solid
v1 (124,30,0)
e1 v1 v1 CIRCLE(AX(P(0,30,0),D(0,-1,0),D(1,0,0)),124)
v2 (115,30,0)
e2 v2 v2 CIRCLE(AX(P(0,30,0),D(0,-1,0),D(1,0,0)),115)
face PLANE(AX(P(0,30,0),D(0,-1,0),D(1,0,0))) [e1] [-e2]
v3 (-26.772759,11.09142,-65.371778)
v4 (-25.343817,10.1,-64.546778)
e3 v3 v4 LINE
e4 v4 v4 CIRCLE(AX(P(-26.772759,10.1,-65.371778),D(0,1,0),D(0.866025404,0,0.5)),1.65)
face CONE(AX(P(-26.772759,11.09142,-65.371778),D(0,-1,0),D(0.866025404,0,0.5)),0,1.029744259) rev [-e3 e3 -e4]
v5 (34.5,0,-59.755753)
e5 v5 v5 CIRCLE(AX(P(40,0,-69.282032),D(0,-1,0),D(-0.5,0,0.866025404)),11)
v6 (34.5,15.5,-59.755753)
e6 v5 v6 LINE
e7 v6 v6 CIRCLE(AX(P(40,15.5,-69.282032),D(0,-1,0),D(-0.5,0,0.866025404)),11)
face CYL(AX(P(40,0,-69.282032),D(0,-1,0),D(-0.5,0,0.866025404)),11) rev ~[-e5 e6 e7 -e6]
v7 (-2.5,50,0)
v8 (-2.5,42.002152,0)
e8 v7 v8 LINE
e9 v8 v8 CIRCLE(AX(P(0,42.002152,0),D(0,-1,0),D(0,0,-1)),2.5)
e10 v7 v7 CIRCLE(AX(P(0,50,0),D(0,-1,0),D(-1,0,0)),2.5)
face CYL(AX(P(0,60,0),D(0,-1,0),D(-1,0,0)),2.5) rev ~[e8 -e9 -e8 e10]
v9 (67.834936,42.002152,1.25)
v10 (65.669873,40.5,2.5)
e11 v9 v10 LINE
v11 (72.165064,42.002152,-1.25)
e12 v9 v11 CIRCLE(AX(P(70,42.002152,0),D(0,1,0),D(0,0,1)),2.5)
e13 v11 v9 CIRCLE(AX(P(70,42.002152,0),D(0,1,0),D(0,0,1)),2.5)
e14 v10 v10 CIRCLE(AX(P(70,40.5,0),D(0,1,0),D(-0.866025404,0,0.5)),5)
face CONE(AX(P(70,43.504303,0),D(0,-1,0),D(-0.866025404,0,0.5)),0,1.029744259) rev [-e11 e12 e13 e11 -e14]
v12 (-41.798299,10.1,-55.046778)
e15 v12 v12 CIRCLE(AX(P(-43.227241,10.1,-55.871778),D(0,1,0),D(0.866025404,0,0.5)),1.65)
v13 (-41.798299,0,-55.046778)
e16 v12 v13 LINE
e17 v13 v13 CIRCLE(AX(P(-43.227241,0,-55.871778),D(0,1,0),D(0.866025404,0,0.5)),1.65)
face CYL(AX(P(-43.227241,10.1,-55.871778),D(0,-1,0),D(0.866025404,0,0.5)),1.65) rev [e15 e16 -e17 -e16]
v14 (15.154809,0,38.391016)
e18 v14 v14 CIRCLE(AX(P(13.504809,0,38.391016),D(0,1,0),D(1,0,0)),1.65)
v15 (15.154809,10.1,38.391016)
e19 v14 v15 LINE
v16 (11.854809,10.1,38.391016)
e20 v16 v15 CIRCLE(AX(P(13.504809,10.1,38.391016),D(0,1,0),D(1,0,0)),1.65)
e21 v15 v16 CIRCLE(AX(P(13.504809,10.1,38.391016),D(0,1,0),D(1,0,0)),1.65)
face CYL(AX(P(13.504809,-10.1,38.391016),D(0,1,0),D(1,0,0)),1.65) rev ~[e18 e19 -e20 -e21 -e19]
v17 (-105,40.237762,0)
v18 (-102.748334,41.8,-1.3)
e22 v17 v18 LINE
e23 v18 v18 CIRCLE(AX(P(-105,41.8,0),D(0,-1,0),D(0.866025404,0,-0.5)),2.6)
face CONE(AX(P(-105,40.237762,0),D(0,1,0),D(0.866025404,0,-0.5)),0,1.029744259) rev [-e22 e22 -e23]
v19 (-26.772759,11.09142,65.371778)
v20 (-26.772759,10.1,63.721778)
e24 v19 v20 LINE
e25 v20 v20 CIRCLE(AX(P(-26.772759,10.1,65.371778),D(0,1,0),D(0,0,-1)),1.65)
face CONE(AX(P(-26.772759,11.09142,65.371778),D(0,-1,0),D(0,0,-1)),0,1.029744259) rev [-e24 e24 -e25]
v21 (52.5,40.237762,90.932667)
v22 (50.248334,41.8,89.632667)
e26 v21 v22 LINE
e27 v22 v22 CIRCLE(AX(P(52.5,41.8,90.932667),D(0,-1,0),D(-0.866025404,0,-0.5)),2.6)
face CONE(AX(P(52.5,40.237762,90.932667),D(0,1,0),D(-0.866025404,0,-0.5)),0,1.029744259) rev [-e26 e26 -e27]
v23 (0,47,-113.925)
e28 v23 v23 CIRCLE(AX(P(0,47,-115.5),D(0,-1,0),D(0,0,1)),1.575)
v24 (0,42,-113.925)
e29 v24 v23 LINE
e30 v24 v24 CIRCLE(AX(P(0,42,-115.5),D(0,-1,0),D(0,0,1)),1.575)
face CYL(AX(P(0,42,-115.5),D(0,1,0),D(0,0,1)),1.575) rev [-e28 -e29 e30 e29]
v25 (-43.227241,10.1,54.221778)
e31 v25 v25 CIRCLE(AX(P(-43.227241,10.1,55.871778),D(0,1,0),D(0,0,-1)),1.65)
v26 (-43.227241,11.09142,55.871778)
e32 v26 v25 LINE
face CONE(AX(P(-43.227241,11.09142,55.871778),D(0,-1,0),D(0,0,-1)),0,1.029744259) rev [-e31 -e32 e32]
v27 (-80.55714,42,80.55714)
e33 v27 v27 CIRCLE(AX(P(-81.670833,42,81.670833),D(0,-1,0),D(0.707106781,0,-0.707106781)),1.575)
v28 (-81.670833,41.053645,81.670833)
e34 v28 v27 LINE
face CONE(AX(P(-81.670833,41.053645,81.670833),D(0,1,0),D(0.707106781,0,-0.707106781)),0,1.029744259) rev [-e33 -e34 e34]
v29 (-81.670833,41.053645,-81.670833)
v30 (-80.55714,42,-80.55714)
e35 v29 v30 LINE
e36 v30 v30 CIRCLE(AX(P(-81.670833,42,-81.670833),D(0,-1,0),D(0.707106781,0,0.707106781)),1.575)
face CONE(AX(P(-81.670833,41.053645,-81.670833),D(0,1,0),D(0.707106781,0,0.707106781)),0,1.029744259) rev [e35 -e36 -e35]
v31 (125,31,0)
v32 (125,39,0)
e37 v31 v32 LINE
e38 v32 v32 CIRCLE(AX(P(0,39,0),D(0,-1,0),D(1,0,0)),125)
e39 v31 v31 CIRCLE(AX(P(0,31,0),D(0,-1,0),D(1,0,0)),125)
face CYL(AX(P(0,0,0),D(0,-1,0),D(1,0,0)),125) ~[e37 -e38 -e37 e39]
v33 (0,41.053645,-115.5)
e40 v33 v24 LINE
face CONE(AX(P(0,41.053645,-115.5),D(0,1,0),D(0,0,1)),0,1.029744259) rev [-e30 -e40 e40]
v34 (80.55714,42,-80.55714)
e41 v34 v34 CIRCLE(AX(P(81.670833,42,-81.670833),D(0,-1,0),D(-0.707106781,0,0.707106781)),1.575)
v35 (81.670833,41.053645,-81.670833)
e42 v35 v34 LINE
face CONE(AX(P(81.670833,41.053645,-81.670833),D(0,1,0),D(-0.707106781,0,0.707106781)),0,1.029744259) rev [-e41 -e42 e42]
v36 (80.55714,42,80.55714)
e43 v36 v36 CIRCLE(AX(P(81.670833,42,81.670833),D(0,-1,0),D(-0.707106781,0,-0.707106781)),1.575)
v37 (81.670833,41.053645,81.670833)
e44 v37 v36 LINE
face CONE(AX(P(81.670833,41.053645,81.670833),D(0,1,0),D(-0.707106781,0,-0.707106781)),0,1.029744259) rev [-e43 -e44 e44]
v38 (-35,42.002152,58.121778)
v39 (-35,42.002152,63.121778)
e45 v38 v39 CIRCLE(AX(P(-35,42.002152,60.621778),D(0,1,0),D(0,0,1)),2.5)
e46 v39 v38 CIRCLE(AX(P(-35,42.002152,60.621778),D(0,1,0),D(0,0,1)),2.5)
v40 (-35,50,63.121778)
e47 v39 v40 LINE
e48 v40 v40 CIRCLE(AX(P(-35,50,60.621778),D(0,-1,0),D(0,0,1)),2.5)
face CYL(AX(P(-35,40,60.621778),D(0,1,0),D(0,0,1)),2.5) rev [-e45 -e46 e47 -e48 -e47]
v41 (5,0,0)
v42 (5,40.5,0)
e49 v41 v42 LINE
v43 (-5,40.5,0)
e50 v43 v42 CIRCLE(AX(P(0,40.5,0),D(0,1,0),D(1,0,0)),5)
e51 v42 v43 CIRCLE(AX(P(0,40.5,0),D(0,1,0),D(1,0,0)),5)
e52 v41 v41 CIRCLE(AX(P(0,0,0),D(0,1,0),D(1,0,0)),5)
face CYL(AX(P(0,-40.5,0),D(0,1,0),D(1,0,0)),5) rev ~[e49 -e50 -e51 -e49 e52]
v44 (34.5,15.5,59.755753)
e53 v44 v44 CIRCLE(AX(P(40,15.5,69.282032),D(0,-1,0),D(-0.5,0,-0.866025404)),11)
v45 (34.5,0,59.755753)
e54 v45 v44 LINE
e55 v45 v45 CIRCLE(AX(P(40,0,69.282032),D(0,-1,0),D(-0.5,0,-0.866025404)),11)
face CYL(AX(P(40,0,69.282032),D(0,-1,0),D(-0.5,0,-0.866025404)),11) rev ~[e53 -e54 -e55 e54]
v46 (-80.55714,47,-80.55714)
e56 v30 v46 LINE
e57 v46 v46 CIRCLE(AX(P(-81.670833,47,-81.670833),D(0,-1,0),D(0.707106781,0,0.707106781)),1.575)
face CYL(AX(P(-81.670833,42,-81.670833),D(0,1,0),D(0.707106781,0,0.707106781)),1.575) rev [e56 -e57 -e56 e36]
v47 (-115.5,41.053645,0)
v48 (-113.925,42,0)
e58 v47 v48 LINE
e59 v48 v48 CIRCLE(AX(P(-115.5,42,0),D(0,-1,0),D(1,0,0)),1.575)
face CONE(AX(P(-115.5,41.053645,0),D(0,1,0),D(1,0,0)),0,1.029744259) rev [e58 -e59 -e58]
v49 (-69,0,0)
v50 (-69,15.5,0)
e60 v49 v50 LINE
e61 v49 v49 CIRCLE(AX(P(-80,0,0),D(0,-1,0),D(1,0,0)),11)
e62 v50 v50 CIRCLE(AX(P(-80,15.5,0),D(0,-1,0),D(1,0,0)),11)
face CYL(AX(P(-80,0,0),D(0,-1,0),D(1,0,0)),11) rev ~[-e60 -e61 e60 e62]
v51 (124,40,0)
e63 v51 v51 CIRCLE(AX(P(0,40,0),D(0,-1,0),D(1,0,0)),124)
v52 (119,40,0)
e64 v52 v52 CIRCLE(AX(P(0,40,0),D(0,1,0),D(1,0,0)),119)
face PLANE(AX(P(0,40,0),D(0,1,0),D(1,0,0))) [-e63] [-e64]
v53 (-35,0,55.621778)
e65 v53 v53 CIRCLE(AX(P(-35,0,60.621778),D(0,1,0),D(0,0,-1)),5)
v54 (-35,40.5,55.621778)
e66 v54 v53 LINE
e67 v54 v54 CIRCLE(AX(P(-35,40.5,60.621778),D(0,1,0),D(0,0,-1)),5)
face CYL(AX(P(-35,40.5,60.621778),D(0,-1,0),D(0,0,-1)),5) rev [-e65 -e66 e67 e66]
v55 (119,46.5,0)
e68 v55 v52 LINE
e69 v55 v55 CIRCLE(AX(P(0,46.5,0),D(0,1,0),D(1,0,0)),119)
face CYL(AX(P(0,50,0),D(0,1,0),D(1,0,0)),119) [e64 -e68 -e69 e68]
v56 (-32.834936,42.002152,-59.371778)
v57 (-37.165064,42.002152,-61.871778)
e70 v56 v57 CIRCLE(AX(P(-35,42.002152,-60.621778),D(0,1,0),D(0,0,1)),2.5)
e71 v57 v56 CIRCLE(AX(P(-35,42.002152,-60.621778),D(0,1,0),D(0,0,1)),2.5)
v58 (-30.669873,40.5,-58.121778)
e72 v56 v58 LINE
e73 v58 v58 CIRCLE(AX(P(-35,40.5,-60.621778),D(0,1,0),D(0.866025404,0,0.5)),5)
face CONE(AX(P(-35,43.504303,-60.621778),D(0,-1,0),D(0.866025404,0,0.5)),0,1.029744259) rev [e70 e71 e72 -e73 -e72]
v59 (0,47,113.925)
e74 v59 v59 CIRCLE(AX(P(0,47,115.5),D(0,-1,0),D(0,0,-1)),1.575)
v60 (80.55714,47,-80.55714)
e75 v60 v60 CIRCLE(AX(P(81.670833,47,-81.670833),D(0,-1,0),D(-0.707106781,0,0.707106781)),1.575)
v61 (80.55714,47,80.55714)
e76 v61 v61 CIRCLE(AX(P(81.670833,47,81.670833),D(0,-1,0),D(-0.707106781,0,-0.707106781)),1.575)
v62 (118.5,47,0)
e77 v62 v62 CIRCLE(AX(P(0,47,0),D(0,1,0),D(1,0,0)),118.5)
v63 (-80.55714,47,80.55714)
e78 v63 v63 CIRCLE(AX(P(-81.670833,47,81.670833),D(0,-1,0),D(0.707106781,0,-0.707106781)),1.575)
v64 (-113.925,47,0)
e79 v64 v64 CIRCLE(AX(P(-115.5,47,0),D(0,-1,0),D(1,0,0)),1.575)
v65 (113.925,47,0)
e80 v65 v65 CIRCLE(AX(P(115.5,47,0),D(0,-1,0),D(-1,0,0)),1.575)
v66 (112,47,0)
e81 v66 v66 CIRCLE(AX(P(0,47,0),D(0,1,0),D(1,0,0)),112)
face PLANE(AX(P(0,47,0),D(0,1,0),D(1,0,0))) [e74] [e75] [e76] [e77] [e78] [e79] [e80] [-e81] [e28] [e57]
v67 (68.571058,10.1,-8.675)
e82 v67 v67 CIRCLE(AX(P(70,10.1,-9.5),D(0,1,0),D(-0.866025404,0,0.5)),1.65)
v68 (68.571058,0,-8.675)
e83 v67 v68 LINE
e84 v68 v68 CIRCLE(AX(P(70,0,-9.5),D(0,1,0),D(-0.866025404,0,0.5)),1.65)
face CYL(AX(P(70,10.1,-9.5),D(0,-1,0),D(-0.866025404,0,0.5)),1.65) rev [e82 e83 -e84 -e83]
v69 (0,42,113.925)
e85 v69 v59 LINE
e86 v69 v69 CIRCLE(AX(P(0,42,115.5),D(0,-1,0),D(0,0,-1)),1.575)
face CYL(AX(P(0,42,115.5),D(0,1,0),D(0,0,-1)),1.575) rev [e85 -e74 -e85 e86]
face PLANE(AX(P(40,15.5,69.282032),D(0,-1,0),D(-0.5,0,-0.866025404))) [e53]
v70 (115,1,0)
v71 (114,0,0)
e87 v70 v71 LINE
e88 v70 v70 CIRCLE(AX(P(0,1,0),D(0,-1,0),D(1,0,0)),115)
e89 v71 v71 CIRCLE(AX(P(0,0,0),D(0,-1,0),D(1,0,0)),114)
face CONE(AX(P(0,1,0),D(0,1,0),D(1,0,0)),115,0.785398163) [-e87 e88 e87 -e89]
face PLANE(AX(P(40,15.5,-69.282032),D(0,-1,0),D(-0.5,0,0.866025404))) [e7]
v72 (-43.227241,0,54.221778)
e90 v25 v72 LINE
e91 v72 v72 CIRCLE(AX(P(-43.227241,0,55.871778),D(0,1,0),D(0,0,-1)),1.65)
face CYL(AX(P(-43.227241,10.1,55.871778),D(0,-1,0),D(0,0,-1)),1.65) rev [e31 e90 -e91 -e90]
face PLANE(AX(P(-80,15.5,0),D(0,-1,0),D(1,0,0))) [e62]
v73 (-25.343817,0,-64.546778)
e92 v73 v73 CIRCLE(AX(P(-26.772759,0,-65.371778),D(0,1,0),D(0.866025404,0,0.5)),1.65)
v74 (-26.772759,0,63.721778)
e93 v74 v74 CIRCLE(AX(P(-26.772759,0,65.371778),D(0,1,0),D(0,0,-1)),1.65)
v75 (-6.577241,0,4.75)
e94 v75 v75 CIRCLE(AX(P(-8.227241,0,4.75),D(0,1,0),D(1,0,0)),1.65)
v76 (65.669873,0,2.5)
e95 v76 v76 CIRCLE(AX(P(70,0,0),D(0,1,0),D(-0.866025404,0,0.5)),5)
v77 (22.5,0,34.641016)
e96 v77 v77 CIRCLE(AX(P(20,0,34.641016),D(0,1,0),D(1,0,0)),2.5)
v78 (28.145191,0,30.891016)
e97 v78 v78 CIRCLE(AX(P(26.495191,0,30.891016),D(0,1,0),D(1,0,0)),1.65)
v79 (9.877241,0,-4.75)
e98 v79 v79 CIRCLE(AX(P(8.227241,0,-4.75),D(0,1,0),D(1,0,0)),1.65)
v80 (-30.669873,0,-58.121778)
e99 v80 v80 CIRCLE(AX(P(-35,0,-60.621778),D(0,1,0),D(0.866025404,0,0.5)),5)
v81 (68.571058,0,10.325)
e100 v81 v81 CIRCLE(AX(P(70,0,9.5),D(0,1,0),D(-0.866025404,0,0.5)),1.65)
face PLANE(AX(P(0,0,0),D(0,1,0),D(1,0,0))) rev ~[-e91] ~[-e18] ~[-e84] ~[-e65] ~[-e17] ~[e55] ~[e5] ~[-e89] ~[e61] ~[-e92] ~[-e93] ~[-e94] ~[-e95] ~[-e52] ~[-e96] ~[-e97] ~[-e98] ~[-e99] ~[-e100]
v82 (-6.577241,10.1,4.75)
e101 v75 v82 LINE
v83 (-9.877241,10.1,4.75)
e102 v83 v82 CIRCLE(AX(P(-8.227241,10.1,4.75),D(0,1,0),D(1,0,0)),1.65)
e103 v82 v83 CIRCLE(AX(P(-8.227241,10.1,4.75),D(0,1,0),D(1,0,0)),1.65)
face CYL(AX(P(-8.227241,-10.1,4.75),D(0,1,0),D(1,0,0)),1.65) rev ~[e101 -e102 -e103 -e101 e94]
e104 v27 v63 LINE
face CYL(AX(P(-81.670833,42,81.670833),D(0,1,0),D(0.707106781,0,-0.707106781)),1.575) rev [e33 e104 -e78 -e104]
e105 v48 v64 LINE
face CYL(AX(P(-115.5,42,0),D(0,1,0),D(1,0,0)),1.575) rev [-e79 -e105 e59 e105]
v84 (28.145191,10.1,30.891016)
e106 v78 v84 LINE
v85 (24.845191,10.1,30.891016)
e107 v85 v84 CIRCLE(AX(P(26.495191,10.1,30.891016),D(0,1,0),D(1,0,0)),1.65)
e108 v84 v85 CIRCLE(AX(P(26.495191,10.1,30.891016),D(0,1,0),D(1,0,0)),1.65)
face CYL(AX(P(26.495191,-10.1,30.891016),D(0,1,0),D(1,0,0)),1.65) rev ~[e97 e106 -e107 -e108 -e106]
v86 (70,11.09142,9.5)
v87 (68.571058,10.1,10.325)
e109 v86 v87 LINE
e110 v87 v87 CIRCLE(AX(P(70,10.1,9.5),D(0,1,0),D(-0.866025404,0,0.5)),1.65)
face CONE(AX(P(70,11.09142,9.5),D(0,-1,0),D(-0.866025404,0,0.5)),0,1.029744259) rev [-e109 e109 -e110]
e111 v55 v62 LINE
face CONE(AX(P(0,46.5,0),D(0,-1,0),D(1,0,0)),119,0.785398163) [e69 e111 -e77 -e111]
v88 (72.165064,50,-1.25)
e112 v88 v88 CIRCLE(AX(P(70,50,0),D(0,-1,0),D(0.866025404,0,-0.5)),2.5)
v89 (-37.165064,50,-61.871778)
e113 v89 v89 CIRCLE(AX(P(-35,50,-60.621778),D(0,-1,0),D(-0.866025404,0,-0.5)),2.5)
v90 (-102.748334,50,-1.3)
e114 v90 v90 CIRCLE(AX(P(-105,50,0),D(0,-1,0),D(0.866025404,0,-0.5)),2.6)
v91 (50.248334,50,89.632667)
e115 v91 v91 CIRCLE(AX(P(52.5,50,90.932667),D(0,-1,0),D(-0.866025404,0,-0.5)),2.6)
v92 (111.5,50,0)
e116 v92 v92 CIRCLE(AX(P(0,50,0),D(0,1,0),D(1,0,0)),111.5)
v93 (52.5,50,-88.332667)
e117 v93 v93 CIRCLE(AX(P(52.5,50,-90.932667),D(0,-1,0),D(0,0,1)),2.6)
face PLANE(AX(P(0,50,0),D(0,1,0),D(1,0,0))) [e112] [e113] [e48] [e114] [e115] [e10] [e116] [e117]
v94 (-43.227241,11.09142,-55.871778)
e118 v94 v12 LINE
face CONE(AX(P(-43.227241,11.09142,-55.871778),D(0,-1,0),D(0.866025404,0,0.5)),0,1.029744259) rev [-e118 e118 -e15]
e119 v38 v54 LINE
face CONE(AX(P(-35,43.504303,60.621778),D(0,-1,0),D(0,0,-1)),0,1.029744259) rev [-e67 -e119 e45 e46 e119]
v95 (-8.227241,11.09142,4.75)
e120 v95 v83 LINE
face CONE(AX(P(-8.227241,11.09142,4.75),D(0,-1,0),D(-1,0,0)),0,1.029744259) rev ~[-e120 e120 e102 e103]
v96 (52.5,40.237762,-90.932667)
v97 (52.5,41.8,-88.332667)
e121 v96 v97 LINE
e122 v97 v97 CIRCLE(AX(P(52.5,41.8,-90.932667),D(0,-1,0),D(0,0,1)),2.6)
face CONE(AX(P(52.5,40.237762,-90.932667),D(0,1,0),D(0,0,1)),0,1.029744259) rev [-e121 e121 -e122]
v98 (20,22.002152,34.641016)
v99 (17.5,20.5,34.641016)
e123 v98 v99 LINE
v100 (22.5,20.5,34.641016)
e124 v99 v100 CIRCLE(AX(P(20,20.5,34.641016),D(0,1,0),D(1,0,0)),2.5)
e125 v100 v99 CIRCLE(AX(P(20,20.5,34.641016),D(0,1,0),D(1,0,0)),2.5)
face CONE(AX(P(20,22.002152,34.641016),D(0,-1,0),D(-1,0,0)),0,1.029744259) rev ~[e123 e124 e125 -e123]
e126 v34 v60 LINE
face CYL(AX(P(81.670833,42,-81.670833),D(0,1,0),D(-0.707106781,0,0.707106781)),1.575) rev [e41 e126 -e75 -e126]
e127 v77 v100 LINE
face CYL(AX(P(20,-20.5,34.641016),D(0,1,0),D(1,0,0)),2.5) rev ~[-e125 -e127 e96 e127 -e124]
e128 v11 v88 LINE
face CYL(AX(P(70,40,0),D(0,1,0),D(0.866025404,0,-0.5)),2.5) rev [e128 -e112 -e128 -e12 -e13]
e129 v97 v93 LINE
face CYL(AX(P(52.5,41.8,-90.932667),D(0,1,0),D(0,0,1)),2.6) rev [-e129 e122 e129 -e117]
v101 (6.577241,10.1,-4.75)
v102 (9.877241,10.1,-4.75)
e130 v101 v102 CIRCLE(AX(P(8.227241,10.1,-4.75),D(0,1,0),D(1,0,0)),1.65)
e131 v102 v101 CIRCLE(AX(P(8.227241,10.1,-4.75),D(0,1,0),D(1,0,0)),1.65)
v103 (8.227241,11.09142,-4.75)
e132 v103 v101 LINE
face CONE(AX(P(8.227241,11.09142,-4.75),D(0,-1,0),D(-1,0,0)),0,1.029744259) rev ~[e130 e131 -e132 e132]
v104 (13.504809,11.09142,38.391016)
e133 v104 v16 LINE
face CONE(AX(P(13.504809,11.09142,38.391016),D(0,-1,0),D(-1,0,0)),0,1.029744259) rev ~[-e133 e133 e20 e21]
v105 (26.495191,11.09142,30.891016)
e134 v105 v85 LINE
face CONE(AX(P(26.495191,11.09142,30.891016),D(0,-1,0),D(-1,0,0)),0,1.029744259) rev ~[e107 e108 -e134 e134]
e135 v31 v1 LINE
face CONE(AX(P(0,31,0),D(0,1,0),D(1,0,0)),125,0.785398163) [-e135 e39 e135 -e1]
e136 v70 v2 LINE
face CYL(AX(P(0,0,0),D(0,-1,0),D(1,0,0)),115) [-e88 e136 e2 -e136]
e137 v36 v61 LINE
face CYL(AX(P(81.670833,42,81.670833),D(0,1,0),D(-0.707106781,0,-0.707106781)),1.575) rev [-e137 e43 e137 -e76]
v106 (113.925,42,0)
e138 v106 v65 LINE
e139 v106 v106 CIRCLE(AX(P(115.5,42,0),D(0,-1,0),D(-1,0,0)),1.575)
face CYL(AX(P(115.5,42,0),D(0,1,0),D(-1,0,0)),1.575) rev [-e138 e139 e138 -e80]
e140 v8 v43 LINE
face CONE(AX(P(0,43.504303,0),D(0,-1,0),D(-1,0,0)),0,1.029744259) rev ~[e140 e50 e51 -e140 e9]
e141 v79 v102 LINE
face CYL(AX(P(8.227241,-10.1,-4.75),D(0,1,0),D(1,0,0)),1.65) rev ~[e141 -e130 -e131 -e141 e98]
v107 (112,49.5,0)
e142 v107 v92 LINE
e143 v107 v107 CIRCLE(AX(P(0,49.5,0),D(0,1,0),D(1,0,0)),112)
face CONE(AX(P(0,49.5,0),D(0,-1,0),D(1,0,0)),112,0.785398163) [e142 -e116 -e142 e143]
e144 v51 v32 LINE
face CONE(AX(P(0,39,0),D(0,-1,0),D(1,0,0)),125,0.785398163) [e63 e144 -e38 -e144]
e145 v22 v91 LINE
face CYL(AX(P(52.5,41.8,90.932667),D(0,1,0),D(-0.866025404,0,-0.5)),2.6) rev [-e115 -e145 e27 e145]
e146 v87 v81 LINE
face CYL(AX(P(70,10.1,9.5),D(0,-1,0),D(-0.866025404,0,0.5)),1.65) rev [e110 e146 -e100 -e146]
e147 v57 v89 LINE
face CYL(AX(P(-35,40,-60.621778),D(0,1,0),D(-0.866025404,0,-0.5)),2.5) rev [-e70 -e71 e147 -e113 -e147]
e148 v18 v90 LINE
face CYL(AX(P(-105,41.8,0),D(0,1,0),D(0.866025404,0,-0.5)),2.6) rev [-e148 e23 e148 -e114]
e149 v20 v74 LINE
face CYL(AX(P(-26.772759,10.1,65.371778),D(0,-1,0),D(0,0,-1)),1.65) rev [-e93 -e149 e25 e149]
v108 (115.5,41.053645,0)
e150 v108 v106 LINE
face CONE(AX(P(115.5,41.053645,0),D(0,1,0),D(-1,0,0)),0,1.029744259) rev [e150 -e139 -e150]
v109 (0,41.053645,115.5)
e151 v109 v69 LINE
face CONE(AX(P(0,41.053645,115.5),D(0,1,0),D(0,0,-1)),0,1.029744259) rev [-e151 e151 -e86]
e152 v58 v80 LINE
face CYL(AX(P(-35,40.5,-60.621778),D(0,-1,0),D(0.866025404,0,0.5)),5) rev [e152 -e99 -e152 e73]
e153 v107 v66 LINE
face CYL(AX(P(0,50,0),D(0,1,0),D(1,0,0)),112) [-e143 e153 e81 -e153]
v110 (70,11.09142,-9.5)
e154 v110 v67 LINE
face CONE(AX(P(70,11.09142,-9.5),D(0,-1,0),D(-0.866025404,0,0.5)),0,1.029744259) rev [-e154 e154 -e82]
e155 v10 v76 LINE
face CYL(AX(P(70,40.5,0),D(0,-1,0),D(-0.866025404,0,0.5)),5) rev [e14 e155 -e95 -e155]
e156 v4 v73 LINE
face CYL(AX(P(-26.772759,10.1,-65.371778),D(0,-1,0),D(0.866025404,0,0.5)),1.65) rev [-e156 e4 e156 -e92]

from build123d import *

# Parameters (mm, degrees)
SKETCH1_R                      = 125
BOSS_EXTRUDE1_DEPTH            = 50
SKETCH2_R                      = 127
SKETCH2_R_2                    = 119
PAKNING_DEPTH                  = 10
SKETCH3_R                      = 125
SKETCH3_R_2                    = 112
PAKNINGSRING_DEPTH             = 3
SKETCH7_R                      = 135
SKETCH7_R_2                    = 115
CUT_EXTRUDE6_DEPTH             = 30
CHAMFER2_SIZE                  = 0.5
CIRPATTERN2_COUNT              = 8
SKETCH19_R                     = 11
SPINDLE_DEPTH                  = 15.5
CIRPATTERN4_COUNT              = 3
F_10_0_10_DIAMETER_HOLE2_D     = 10
F_10_0_10_DIAMETER_HOLE2_DEPTH = 40.5
F_10_0_10_DIAMETER_HOLE2_TIP   = 3.004303095
F_5_0_5_DIAMETER_HOLE2_D       = 5
F_5_0_5_DIAMETER_HOLE2_DEPTH   = 10
F_5_0_5_DIAMETER_HOLE2_TIP     = 1.502151548
F_5_0_5_DIAMETER_HOLE3_D       = 5
F_5_0_5_DIAMETER_HOLE3_DEPTH   = 20.5
F_5_0_5_DIAMETER_HOLE3_TIP     = 1.502151548
M4_TAPPED_HOLE1_AT_2_COUNT     = 2
M4_TAPPED_HOLE1_AT_2_PITCH     = 19
M4_TAPPED_HOLE2_D              = 3.3
M4_TAPPED_HOLE2_DEPTH          = 10.1
M4_TAPPED_HOLE2_TIP            = 0.991420021
M4_TAPPED_HOLE3_D              = 3.3
M4_TAPPED_HOLE3_DEPTH          = 10.1
M4_TAPPED_HOLE3_TIP            = 0.991420021
CIRPATTERN8_COUNT              = 3
CIRPATTERN9_COUNT              = 3
CHAMFER3_SIZE                  = 1


with BuildPart() as part:
    # Sketch1 → Boss-Extrude1 (new body)
    with BuildSketch(Plane(origin=(0, 0, 0), x_dir=(1, 0, 0), z_dir=(0, 1, 0))):
        Circle(SKETCH1_R)
    extrude(amount=BOSS_EXTRUDE1_DEPTH)

    # Sketch2 → Pakning (cut)
    with BuildSketch(Plane(origin=(0, 50, 0), x_dir=(1, 0, 0), z_dir=(0, 1, 0))):
        Circle(SKETCH2_R)
        Circle(SKETCH2_R_2, mode=Mode.SUBTRACT)
    extrude(amount=-PAKNING_DEPTH, mode=Mode.SUBTRACT)

    # Sketch3 → PakningsRing (cut)
    with BuildSketch(Plane(origin=(0, 50, 0), x_dir=(1, 0, 0), z_dir=(0, 1, 0))):
        Circle(SKETCH3_R)
        Circle(SKETCH3_R_2, mode=Mode.SUBTRACT)
    extrude(amount=-PAKNINGSRING_DEPTH, mode=Mode.SUBTRACT)

    # Sketch7 → Cut-Extrude6 (cut)
    with BuildSketch(Plane.XZ):
        Circle(SKETCH7_R)
        Circle(SKETCH7_R_2, mode=Mode.SUBTRACT)
    extrude(amount=-CUT_EXTRUDE6_DEPTH, mode=Mode.SUBTRACT)

    # Chamfer2
    chamfer2_edges = [part.edges().sort_by_distance(p)[0] for p in [
        (-119, 47, 0),
        (-112, 50, 0),
    ]]
    chamfer(chamfer2_edges, length=CHAMFER2_SIZE)

    # Sketch17 → Tapped Hole for M3x0.5 Helicoil1 (revolve, cut)
    with BuildSketch(Plane(origin=(0, 47, -115.5), x_dir=(0, 0, 1), z_dir=(1, 0, 0))):
        Polygon((0, 0), (0, 5.946355475), (1.575, 5), (1.575, 0), align=None)
    tapped_hole_for_m3x0_5_helicoil1 = revolve(axis=Axis((0, 53.35, -115.5), (0, -1, 0)), mode=Mode.SUBTRACT)

    # CirPattern2: Tapped Hole for M3x0.5 Helicoil1 ×8 about axis
    cirpattern2_axis = Axis((0, 0, 0), (0, 1, 0))
    for i in range(1, CIRPATTERN2_COUNT):
        add(tapped_hole_for_m3x0_5_helicoil1.rotate(cirpattern2_axis, i * 360 / CIRPATTERN2_COUNT), mode=Mode.SUBTRACT)

    # Sketch19 → Spindle (cut)
    with BuildSketch(Plane.XZ):
        with Locations((-80, 0)):
            Circle(SKETCH19_R)
    spindle = extrude(amount=-SPINDLE_DEPTH, mode=Mode.SUBTRACT)

    # CirPattern4: Spindle ×3 about axis
    cirpattern4_axis = Axis((0, 0, 0), (0, 1, 0))
    for i in range(1, CIRPATTERN4_COUNT):
        add(spindle.rotate(cirpattern4_axis, i * 360 / CIRPATTERN4_COUNT), mode=Mode.SUBTRACT)

    # Sketch27 → Ø10.0 (10) Diameter Hole1 (revolve, cut)
    with BuildSketch(Plane(origin=(-35, 0, 60.621778265), x_dir=(0, 0, -1), z_dir=(1, 0, 0))):
        Polygon((0, 0), (0, 43.504303095), (5, 40.5), (5, 0), align=None)
    f_10_0_10_diameter_hole1 = revolve(axis=Axis((-35, -6.35, 60.621778265), (0, 1, 0)), mode=Mode.SUBTRACT)

    # Ø10.0 (10) Diameter Hole2
    with Locations(Plane(origin=(0, 0, 0), x_dir=(-1, 0, 0), z_dir=(0, -1, 0))):
        with Locations((0, 0)):
            Hole(F_10_0_10_DIAMETER_HOLE2_D / 2, depth=F_10_0_10_DIAMETER_HOLE2_DEPTH)
            with Locations((0, 0, -(F_10_0_10_DIAMETER_HOLE2_DEPTH + F_10_0_10_DIAMETER_HOLE2_TIP / 2))):  # 118° drill point
                Cone(0, F_10_0_10_DIAMETER_HOLE2_D / 2, F_10_0_10_DIAMETER_HOLE2_TIP, mode=Mode.SUBTRACT)

    # Sketch31 → Ø5.0 (5) Diameter Hole1 (revolve, cut)
    with BuildSketch(Plane(origin=(-35, 50, 60.621778265), x_dir=(0, 0, 1), z_dir=(1, 0, 0))):
        Polygon((0, 0), (0, 11.502151548), (2.5, 10), (2.5, 0), align=None)
    f_5_0_5_diameter_hole1 = revolve(axis=Axis((-35, 56.35, 60.621778265), (0, -1, 0)), mode=Mode.SUBTRACT)

    # Ø5.0 (5) Diameter Hole2
    with Locations(Plane(origin=(0, 50, 0), x_dir=(1, 0, 0), z_dir=(0, 1, 0))):
        with Locations((0, 0)):
            Hole(F_5_0_5_DIAMETER_HOLE2_D / 2, depth=F_5_0_5_DIAMETER_HOLE2_DEPTH)
            with Locations((0, 0, -(F_5_0_5_DIAMETER_HOLE2_DEPTH + F_5_0_5_DIAMETER_HOLE2_TIP / 2))):  # 118° drill point
                Cone(0, F_5_0_5_DIAMETER_HOLE2_D / 2, F_5_0_5_DIAMETER_HOLE2_TIP, mode=Mode.SUBTRACT)

    # Ø5.0 (5) Diameter Hole3
    with Locations(Plane(origin=(0, 0, 0), x_dir=(-1, 0, 0), z_dir=(0, -1, 0))):
        with Locations((-20, -34.641016151)):
            Hole(F_5_0_5_DIAMETER_HOLE3_D / 2, depth=F_5_0_5_DIAMETER_HOLE3_DEPTH)
            with Locations((0, 0, -(F_5_0_5_DIAMETER_HOLE3_DEPTH + F_5_0_5_DIAMETER_HOLE3_TIP / 2))):  # 118° drill point
                Cone(0, F_5_0_5_DIAMETER_HOLE3_D / 2, F_5_0_5_DIAMETER_HOLE3_TIP, mode=Mode.SUBTRACT)

    # Sketch37 → M4 Tapped Hole1 (revolve, cut)
    with BuildSketch(Plane(origin=(-43.227241336, 0, 55.871778265), x_dir=(0, 0, -1), z_dir=(1, 0, 0))):
        Polygon((0, 0), (0, 11.091420021), (1.65, 10.1), (1.65, 0), align=None)
    m4_tapped_hole1 = revolve(axis=Axis((-43.227241336, -6.35, 55.871778265), (0, 1, 0)), mode=Mode.SUBTRACT)

    # M4 Tapped Hole1 at 2: M4 Tapped Hole1 ×2
    with Locations(*[Vector(0.866025404, 0, 0.5) * (i * M4_TAPPED_HOLE1_AT_2_PITCH) for i in range(1, M4_TAPPED_HOLE1_AT_2_COUNT)]):
        add(m4_tapped_hole1, mode=Mode.SUBTRACT)

    # M4 Tapped Hole2
    with Locations(Plane(origin=(0, 0, 0), x_dir=(-1, 0, 0), z_dir=(0, -1, 0))):
        with Locations((8.227241336, -4.75), (-8.227241336, 4.75)):
            Hole(M4_TAPPED_HOLE2_D / 2, depth=M4_TAPPED_HOLE2_DEPTH)
            with Locations((0, 0, -(M4_TAPPED_HOLE2_DEPTH + M4_TAPPED_HOLE2_TIP / 2))):  # 118° drill point
                Cone(0, M4_TAPPED_HOLE2_D / 2, M4_TAPPED_HOLE2_TIP, mode=Mode.SUBTRACT)

    # M4 Tapped Hole3
    with Locations(Plane(origin=(0, 0, 0), x_dir=(-1, 0, 0), z_dir=(0, -1, 0))):
        with Locations((-13.504809472, -38.391016151), (-26.495190528, -30.891016151)):
            Hole(M4_TAPPED_HOLE3_D / 2, depth=M4_TAPPED_HOLE3_DEPTH)
            with Locations((0, 0, -(M4_TAPPED_HOLE3_DEPTH + M4_TAPPED_HOLE3_TIP / 2))):  # 118° drill point
                Cone(0, M4_TAPPED_HOLE3_D / 2, M4_TAPPED_HOLE3_TIP, mode=Mode.SUBTRACT)

    # Sketch43 → Tapped Hole for M5x0.8 Helicoil1 (revolve, cut)
    with BuildSketch(Plane(origin=(52.5, 50, -90.932667397), x_dir=(0, 0, 1), z_dir=(1, 0, 0))):
        Polygon((0, 0), (0, 9.762237609), (2.6, 8.2), (2.6, 0), align=None)
    tapped_hole_for_m5x0_8_helicoil1 = revolve(axis=Axis((52.5, 56.35, -90.932667397), (0, -1, 0)), mode=Mode.SUBTRACT)

    # CirPattern8: Tapped Hole for M5x0.8 Helicoil1 ×3 about axis
    cirpattern8_axis = Axis((0, 0, 0), (0, 1, 0))
    for i in range(1, CIRPATTERN8_COUNT):
        add(tapped_hole_for_m5x0_8_helicoil1.rotate(cirpattern8_axis, i * 360 / CIRPATTERN8_COUNT), mode=Mode.SUBTRACT)

    # CirPattern9: Ø10.0 (10) Diameter Hole1, M4 Tapped Hole1, Ø5.0 (5) Diameter Hole1 ×3 about axis
    cirpattern9_axis = Axis((0, 0, 0), (0, 1, 0))
    for i in range(1, CIRPATTERN9_COUNT):
        add(f_10_0_10_diameter_hole1.rotate(cirpattern9_axis, i * 360 / CIRPATTERN9_COUNT), mode=Mode.SUBTRACT)
        add(m4_tapped_hole1.rotate(cirpattern9_axis, i * 360 / CIRPATTERN9_COUNT), mode=Mode.SUBTRACT)
        add(f_5_0_5_diameter_hole1.rotate(cirpattern9_axis, i * 360 / CIRPATTERN9_COUNT), mode=Mode.SUBTRACT)

    # CirPattern9 copy 1 sketch → CirPattern9 copy 1 (revolve, cut)
    with BuildSketch(Plane(origin=(70, 0, -9.5), x_dir=(-0.866025404, 0, 0.5), z_dir=(-0.5, 0, -0.866025404))):
        Polygon((0, 0), (0, 11.091420021), (1.65, 10.1), (1.65, 0), align=None)
    revolve(axis=Axis((70, -6.35, -9.5), (0, 1, 0)), mode=Mode.SUBTRACT)

    # CirPattern9 copy 2 sketch → CirPattern9 copy 2 (revolve, cut)
    with BuildSketch(Plane(origin=(-43.227241336, 0, -55.871778265), x_dir=(0.866025404, 0, 0.5), z_dir=(-0.5, 0, 0.866025404))):
        Polygon((0, 0), (0, 11.091420021), (1.65, 10.1), (1.65, 0), align=None)
    revolve(axis=Axis((-43.227241336, -6.35, -55.871778265), (0, 1, 0)), mode=Mode.SUBTRACT)

    # Chamfer3
    chamfer3_edges = [part.edges().sort_by_distance(p)[0] for p in [
        (-125, 30, 0),
        (-115, 0, 0),
        (-125, 40, 0),
    ]]
    chamfer(chamfer3_edges, length=CHAMFER3_SIZE)


solid = part.part
